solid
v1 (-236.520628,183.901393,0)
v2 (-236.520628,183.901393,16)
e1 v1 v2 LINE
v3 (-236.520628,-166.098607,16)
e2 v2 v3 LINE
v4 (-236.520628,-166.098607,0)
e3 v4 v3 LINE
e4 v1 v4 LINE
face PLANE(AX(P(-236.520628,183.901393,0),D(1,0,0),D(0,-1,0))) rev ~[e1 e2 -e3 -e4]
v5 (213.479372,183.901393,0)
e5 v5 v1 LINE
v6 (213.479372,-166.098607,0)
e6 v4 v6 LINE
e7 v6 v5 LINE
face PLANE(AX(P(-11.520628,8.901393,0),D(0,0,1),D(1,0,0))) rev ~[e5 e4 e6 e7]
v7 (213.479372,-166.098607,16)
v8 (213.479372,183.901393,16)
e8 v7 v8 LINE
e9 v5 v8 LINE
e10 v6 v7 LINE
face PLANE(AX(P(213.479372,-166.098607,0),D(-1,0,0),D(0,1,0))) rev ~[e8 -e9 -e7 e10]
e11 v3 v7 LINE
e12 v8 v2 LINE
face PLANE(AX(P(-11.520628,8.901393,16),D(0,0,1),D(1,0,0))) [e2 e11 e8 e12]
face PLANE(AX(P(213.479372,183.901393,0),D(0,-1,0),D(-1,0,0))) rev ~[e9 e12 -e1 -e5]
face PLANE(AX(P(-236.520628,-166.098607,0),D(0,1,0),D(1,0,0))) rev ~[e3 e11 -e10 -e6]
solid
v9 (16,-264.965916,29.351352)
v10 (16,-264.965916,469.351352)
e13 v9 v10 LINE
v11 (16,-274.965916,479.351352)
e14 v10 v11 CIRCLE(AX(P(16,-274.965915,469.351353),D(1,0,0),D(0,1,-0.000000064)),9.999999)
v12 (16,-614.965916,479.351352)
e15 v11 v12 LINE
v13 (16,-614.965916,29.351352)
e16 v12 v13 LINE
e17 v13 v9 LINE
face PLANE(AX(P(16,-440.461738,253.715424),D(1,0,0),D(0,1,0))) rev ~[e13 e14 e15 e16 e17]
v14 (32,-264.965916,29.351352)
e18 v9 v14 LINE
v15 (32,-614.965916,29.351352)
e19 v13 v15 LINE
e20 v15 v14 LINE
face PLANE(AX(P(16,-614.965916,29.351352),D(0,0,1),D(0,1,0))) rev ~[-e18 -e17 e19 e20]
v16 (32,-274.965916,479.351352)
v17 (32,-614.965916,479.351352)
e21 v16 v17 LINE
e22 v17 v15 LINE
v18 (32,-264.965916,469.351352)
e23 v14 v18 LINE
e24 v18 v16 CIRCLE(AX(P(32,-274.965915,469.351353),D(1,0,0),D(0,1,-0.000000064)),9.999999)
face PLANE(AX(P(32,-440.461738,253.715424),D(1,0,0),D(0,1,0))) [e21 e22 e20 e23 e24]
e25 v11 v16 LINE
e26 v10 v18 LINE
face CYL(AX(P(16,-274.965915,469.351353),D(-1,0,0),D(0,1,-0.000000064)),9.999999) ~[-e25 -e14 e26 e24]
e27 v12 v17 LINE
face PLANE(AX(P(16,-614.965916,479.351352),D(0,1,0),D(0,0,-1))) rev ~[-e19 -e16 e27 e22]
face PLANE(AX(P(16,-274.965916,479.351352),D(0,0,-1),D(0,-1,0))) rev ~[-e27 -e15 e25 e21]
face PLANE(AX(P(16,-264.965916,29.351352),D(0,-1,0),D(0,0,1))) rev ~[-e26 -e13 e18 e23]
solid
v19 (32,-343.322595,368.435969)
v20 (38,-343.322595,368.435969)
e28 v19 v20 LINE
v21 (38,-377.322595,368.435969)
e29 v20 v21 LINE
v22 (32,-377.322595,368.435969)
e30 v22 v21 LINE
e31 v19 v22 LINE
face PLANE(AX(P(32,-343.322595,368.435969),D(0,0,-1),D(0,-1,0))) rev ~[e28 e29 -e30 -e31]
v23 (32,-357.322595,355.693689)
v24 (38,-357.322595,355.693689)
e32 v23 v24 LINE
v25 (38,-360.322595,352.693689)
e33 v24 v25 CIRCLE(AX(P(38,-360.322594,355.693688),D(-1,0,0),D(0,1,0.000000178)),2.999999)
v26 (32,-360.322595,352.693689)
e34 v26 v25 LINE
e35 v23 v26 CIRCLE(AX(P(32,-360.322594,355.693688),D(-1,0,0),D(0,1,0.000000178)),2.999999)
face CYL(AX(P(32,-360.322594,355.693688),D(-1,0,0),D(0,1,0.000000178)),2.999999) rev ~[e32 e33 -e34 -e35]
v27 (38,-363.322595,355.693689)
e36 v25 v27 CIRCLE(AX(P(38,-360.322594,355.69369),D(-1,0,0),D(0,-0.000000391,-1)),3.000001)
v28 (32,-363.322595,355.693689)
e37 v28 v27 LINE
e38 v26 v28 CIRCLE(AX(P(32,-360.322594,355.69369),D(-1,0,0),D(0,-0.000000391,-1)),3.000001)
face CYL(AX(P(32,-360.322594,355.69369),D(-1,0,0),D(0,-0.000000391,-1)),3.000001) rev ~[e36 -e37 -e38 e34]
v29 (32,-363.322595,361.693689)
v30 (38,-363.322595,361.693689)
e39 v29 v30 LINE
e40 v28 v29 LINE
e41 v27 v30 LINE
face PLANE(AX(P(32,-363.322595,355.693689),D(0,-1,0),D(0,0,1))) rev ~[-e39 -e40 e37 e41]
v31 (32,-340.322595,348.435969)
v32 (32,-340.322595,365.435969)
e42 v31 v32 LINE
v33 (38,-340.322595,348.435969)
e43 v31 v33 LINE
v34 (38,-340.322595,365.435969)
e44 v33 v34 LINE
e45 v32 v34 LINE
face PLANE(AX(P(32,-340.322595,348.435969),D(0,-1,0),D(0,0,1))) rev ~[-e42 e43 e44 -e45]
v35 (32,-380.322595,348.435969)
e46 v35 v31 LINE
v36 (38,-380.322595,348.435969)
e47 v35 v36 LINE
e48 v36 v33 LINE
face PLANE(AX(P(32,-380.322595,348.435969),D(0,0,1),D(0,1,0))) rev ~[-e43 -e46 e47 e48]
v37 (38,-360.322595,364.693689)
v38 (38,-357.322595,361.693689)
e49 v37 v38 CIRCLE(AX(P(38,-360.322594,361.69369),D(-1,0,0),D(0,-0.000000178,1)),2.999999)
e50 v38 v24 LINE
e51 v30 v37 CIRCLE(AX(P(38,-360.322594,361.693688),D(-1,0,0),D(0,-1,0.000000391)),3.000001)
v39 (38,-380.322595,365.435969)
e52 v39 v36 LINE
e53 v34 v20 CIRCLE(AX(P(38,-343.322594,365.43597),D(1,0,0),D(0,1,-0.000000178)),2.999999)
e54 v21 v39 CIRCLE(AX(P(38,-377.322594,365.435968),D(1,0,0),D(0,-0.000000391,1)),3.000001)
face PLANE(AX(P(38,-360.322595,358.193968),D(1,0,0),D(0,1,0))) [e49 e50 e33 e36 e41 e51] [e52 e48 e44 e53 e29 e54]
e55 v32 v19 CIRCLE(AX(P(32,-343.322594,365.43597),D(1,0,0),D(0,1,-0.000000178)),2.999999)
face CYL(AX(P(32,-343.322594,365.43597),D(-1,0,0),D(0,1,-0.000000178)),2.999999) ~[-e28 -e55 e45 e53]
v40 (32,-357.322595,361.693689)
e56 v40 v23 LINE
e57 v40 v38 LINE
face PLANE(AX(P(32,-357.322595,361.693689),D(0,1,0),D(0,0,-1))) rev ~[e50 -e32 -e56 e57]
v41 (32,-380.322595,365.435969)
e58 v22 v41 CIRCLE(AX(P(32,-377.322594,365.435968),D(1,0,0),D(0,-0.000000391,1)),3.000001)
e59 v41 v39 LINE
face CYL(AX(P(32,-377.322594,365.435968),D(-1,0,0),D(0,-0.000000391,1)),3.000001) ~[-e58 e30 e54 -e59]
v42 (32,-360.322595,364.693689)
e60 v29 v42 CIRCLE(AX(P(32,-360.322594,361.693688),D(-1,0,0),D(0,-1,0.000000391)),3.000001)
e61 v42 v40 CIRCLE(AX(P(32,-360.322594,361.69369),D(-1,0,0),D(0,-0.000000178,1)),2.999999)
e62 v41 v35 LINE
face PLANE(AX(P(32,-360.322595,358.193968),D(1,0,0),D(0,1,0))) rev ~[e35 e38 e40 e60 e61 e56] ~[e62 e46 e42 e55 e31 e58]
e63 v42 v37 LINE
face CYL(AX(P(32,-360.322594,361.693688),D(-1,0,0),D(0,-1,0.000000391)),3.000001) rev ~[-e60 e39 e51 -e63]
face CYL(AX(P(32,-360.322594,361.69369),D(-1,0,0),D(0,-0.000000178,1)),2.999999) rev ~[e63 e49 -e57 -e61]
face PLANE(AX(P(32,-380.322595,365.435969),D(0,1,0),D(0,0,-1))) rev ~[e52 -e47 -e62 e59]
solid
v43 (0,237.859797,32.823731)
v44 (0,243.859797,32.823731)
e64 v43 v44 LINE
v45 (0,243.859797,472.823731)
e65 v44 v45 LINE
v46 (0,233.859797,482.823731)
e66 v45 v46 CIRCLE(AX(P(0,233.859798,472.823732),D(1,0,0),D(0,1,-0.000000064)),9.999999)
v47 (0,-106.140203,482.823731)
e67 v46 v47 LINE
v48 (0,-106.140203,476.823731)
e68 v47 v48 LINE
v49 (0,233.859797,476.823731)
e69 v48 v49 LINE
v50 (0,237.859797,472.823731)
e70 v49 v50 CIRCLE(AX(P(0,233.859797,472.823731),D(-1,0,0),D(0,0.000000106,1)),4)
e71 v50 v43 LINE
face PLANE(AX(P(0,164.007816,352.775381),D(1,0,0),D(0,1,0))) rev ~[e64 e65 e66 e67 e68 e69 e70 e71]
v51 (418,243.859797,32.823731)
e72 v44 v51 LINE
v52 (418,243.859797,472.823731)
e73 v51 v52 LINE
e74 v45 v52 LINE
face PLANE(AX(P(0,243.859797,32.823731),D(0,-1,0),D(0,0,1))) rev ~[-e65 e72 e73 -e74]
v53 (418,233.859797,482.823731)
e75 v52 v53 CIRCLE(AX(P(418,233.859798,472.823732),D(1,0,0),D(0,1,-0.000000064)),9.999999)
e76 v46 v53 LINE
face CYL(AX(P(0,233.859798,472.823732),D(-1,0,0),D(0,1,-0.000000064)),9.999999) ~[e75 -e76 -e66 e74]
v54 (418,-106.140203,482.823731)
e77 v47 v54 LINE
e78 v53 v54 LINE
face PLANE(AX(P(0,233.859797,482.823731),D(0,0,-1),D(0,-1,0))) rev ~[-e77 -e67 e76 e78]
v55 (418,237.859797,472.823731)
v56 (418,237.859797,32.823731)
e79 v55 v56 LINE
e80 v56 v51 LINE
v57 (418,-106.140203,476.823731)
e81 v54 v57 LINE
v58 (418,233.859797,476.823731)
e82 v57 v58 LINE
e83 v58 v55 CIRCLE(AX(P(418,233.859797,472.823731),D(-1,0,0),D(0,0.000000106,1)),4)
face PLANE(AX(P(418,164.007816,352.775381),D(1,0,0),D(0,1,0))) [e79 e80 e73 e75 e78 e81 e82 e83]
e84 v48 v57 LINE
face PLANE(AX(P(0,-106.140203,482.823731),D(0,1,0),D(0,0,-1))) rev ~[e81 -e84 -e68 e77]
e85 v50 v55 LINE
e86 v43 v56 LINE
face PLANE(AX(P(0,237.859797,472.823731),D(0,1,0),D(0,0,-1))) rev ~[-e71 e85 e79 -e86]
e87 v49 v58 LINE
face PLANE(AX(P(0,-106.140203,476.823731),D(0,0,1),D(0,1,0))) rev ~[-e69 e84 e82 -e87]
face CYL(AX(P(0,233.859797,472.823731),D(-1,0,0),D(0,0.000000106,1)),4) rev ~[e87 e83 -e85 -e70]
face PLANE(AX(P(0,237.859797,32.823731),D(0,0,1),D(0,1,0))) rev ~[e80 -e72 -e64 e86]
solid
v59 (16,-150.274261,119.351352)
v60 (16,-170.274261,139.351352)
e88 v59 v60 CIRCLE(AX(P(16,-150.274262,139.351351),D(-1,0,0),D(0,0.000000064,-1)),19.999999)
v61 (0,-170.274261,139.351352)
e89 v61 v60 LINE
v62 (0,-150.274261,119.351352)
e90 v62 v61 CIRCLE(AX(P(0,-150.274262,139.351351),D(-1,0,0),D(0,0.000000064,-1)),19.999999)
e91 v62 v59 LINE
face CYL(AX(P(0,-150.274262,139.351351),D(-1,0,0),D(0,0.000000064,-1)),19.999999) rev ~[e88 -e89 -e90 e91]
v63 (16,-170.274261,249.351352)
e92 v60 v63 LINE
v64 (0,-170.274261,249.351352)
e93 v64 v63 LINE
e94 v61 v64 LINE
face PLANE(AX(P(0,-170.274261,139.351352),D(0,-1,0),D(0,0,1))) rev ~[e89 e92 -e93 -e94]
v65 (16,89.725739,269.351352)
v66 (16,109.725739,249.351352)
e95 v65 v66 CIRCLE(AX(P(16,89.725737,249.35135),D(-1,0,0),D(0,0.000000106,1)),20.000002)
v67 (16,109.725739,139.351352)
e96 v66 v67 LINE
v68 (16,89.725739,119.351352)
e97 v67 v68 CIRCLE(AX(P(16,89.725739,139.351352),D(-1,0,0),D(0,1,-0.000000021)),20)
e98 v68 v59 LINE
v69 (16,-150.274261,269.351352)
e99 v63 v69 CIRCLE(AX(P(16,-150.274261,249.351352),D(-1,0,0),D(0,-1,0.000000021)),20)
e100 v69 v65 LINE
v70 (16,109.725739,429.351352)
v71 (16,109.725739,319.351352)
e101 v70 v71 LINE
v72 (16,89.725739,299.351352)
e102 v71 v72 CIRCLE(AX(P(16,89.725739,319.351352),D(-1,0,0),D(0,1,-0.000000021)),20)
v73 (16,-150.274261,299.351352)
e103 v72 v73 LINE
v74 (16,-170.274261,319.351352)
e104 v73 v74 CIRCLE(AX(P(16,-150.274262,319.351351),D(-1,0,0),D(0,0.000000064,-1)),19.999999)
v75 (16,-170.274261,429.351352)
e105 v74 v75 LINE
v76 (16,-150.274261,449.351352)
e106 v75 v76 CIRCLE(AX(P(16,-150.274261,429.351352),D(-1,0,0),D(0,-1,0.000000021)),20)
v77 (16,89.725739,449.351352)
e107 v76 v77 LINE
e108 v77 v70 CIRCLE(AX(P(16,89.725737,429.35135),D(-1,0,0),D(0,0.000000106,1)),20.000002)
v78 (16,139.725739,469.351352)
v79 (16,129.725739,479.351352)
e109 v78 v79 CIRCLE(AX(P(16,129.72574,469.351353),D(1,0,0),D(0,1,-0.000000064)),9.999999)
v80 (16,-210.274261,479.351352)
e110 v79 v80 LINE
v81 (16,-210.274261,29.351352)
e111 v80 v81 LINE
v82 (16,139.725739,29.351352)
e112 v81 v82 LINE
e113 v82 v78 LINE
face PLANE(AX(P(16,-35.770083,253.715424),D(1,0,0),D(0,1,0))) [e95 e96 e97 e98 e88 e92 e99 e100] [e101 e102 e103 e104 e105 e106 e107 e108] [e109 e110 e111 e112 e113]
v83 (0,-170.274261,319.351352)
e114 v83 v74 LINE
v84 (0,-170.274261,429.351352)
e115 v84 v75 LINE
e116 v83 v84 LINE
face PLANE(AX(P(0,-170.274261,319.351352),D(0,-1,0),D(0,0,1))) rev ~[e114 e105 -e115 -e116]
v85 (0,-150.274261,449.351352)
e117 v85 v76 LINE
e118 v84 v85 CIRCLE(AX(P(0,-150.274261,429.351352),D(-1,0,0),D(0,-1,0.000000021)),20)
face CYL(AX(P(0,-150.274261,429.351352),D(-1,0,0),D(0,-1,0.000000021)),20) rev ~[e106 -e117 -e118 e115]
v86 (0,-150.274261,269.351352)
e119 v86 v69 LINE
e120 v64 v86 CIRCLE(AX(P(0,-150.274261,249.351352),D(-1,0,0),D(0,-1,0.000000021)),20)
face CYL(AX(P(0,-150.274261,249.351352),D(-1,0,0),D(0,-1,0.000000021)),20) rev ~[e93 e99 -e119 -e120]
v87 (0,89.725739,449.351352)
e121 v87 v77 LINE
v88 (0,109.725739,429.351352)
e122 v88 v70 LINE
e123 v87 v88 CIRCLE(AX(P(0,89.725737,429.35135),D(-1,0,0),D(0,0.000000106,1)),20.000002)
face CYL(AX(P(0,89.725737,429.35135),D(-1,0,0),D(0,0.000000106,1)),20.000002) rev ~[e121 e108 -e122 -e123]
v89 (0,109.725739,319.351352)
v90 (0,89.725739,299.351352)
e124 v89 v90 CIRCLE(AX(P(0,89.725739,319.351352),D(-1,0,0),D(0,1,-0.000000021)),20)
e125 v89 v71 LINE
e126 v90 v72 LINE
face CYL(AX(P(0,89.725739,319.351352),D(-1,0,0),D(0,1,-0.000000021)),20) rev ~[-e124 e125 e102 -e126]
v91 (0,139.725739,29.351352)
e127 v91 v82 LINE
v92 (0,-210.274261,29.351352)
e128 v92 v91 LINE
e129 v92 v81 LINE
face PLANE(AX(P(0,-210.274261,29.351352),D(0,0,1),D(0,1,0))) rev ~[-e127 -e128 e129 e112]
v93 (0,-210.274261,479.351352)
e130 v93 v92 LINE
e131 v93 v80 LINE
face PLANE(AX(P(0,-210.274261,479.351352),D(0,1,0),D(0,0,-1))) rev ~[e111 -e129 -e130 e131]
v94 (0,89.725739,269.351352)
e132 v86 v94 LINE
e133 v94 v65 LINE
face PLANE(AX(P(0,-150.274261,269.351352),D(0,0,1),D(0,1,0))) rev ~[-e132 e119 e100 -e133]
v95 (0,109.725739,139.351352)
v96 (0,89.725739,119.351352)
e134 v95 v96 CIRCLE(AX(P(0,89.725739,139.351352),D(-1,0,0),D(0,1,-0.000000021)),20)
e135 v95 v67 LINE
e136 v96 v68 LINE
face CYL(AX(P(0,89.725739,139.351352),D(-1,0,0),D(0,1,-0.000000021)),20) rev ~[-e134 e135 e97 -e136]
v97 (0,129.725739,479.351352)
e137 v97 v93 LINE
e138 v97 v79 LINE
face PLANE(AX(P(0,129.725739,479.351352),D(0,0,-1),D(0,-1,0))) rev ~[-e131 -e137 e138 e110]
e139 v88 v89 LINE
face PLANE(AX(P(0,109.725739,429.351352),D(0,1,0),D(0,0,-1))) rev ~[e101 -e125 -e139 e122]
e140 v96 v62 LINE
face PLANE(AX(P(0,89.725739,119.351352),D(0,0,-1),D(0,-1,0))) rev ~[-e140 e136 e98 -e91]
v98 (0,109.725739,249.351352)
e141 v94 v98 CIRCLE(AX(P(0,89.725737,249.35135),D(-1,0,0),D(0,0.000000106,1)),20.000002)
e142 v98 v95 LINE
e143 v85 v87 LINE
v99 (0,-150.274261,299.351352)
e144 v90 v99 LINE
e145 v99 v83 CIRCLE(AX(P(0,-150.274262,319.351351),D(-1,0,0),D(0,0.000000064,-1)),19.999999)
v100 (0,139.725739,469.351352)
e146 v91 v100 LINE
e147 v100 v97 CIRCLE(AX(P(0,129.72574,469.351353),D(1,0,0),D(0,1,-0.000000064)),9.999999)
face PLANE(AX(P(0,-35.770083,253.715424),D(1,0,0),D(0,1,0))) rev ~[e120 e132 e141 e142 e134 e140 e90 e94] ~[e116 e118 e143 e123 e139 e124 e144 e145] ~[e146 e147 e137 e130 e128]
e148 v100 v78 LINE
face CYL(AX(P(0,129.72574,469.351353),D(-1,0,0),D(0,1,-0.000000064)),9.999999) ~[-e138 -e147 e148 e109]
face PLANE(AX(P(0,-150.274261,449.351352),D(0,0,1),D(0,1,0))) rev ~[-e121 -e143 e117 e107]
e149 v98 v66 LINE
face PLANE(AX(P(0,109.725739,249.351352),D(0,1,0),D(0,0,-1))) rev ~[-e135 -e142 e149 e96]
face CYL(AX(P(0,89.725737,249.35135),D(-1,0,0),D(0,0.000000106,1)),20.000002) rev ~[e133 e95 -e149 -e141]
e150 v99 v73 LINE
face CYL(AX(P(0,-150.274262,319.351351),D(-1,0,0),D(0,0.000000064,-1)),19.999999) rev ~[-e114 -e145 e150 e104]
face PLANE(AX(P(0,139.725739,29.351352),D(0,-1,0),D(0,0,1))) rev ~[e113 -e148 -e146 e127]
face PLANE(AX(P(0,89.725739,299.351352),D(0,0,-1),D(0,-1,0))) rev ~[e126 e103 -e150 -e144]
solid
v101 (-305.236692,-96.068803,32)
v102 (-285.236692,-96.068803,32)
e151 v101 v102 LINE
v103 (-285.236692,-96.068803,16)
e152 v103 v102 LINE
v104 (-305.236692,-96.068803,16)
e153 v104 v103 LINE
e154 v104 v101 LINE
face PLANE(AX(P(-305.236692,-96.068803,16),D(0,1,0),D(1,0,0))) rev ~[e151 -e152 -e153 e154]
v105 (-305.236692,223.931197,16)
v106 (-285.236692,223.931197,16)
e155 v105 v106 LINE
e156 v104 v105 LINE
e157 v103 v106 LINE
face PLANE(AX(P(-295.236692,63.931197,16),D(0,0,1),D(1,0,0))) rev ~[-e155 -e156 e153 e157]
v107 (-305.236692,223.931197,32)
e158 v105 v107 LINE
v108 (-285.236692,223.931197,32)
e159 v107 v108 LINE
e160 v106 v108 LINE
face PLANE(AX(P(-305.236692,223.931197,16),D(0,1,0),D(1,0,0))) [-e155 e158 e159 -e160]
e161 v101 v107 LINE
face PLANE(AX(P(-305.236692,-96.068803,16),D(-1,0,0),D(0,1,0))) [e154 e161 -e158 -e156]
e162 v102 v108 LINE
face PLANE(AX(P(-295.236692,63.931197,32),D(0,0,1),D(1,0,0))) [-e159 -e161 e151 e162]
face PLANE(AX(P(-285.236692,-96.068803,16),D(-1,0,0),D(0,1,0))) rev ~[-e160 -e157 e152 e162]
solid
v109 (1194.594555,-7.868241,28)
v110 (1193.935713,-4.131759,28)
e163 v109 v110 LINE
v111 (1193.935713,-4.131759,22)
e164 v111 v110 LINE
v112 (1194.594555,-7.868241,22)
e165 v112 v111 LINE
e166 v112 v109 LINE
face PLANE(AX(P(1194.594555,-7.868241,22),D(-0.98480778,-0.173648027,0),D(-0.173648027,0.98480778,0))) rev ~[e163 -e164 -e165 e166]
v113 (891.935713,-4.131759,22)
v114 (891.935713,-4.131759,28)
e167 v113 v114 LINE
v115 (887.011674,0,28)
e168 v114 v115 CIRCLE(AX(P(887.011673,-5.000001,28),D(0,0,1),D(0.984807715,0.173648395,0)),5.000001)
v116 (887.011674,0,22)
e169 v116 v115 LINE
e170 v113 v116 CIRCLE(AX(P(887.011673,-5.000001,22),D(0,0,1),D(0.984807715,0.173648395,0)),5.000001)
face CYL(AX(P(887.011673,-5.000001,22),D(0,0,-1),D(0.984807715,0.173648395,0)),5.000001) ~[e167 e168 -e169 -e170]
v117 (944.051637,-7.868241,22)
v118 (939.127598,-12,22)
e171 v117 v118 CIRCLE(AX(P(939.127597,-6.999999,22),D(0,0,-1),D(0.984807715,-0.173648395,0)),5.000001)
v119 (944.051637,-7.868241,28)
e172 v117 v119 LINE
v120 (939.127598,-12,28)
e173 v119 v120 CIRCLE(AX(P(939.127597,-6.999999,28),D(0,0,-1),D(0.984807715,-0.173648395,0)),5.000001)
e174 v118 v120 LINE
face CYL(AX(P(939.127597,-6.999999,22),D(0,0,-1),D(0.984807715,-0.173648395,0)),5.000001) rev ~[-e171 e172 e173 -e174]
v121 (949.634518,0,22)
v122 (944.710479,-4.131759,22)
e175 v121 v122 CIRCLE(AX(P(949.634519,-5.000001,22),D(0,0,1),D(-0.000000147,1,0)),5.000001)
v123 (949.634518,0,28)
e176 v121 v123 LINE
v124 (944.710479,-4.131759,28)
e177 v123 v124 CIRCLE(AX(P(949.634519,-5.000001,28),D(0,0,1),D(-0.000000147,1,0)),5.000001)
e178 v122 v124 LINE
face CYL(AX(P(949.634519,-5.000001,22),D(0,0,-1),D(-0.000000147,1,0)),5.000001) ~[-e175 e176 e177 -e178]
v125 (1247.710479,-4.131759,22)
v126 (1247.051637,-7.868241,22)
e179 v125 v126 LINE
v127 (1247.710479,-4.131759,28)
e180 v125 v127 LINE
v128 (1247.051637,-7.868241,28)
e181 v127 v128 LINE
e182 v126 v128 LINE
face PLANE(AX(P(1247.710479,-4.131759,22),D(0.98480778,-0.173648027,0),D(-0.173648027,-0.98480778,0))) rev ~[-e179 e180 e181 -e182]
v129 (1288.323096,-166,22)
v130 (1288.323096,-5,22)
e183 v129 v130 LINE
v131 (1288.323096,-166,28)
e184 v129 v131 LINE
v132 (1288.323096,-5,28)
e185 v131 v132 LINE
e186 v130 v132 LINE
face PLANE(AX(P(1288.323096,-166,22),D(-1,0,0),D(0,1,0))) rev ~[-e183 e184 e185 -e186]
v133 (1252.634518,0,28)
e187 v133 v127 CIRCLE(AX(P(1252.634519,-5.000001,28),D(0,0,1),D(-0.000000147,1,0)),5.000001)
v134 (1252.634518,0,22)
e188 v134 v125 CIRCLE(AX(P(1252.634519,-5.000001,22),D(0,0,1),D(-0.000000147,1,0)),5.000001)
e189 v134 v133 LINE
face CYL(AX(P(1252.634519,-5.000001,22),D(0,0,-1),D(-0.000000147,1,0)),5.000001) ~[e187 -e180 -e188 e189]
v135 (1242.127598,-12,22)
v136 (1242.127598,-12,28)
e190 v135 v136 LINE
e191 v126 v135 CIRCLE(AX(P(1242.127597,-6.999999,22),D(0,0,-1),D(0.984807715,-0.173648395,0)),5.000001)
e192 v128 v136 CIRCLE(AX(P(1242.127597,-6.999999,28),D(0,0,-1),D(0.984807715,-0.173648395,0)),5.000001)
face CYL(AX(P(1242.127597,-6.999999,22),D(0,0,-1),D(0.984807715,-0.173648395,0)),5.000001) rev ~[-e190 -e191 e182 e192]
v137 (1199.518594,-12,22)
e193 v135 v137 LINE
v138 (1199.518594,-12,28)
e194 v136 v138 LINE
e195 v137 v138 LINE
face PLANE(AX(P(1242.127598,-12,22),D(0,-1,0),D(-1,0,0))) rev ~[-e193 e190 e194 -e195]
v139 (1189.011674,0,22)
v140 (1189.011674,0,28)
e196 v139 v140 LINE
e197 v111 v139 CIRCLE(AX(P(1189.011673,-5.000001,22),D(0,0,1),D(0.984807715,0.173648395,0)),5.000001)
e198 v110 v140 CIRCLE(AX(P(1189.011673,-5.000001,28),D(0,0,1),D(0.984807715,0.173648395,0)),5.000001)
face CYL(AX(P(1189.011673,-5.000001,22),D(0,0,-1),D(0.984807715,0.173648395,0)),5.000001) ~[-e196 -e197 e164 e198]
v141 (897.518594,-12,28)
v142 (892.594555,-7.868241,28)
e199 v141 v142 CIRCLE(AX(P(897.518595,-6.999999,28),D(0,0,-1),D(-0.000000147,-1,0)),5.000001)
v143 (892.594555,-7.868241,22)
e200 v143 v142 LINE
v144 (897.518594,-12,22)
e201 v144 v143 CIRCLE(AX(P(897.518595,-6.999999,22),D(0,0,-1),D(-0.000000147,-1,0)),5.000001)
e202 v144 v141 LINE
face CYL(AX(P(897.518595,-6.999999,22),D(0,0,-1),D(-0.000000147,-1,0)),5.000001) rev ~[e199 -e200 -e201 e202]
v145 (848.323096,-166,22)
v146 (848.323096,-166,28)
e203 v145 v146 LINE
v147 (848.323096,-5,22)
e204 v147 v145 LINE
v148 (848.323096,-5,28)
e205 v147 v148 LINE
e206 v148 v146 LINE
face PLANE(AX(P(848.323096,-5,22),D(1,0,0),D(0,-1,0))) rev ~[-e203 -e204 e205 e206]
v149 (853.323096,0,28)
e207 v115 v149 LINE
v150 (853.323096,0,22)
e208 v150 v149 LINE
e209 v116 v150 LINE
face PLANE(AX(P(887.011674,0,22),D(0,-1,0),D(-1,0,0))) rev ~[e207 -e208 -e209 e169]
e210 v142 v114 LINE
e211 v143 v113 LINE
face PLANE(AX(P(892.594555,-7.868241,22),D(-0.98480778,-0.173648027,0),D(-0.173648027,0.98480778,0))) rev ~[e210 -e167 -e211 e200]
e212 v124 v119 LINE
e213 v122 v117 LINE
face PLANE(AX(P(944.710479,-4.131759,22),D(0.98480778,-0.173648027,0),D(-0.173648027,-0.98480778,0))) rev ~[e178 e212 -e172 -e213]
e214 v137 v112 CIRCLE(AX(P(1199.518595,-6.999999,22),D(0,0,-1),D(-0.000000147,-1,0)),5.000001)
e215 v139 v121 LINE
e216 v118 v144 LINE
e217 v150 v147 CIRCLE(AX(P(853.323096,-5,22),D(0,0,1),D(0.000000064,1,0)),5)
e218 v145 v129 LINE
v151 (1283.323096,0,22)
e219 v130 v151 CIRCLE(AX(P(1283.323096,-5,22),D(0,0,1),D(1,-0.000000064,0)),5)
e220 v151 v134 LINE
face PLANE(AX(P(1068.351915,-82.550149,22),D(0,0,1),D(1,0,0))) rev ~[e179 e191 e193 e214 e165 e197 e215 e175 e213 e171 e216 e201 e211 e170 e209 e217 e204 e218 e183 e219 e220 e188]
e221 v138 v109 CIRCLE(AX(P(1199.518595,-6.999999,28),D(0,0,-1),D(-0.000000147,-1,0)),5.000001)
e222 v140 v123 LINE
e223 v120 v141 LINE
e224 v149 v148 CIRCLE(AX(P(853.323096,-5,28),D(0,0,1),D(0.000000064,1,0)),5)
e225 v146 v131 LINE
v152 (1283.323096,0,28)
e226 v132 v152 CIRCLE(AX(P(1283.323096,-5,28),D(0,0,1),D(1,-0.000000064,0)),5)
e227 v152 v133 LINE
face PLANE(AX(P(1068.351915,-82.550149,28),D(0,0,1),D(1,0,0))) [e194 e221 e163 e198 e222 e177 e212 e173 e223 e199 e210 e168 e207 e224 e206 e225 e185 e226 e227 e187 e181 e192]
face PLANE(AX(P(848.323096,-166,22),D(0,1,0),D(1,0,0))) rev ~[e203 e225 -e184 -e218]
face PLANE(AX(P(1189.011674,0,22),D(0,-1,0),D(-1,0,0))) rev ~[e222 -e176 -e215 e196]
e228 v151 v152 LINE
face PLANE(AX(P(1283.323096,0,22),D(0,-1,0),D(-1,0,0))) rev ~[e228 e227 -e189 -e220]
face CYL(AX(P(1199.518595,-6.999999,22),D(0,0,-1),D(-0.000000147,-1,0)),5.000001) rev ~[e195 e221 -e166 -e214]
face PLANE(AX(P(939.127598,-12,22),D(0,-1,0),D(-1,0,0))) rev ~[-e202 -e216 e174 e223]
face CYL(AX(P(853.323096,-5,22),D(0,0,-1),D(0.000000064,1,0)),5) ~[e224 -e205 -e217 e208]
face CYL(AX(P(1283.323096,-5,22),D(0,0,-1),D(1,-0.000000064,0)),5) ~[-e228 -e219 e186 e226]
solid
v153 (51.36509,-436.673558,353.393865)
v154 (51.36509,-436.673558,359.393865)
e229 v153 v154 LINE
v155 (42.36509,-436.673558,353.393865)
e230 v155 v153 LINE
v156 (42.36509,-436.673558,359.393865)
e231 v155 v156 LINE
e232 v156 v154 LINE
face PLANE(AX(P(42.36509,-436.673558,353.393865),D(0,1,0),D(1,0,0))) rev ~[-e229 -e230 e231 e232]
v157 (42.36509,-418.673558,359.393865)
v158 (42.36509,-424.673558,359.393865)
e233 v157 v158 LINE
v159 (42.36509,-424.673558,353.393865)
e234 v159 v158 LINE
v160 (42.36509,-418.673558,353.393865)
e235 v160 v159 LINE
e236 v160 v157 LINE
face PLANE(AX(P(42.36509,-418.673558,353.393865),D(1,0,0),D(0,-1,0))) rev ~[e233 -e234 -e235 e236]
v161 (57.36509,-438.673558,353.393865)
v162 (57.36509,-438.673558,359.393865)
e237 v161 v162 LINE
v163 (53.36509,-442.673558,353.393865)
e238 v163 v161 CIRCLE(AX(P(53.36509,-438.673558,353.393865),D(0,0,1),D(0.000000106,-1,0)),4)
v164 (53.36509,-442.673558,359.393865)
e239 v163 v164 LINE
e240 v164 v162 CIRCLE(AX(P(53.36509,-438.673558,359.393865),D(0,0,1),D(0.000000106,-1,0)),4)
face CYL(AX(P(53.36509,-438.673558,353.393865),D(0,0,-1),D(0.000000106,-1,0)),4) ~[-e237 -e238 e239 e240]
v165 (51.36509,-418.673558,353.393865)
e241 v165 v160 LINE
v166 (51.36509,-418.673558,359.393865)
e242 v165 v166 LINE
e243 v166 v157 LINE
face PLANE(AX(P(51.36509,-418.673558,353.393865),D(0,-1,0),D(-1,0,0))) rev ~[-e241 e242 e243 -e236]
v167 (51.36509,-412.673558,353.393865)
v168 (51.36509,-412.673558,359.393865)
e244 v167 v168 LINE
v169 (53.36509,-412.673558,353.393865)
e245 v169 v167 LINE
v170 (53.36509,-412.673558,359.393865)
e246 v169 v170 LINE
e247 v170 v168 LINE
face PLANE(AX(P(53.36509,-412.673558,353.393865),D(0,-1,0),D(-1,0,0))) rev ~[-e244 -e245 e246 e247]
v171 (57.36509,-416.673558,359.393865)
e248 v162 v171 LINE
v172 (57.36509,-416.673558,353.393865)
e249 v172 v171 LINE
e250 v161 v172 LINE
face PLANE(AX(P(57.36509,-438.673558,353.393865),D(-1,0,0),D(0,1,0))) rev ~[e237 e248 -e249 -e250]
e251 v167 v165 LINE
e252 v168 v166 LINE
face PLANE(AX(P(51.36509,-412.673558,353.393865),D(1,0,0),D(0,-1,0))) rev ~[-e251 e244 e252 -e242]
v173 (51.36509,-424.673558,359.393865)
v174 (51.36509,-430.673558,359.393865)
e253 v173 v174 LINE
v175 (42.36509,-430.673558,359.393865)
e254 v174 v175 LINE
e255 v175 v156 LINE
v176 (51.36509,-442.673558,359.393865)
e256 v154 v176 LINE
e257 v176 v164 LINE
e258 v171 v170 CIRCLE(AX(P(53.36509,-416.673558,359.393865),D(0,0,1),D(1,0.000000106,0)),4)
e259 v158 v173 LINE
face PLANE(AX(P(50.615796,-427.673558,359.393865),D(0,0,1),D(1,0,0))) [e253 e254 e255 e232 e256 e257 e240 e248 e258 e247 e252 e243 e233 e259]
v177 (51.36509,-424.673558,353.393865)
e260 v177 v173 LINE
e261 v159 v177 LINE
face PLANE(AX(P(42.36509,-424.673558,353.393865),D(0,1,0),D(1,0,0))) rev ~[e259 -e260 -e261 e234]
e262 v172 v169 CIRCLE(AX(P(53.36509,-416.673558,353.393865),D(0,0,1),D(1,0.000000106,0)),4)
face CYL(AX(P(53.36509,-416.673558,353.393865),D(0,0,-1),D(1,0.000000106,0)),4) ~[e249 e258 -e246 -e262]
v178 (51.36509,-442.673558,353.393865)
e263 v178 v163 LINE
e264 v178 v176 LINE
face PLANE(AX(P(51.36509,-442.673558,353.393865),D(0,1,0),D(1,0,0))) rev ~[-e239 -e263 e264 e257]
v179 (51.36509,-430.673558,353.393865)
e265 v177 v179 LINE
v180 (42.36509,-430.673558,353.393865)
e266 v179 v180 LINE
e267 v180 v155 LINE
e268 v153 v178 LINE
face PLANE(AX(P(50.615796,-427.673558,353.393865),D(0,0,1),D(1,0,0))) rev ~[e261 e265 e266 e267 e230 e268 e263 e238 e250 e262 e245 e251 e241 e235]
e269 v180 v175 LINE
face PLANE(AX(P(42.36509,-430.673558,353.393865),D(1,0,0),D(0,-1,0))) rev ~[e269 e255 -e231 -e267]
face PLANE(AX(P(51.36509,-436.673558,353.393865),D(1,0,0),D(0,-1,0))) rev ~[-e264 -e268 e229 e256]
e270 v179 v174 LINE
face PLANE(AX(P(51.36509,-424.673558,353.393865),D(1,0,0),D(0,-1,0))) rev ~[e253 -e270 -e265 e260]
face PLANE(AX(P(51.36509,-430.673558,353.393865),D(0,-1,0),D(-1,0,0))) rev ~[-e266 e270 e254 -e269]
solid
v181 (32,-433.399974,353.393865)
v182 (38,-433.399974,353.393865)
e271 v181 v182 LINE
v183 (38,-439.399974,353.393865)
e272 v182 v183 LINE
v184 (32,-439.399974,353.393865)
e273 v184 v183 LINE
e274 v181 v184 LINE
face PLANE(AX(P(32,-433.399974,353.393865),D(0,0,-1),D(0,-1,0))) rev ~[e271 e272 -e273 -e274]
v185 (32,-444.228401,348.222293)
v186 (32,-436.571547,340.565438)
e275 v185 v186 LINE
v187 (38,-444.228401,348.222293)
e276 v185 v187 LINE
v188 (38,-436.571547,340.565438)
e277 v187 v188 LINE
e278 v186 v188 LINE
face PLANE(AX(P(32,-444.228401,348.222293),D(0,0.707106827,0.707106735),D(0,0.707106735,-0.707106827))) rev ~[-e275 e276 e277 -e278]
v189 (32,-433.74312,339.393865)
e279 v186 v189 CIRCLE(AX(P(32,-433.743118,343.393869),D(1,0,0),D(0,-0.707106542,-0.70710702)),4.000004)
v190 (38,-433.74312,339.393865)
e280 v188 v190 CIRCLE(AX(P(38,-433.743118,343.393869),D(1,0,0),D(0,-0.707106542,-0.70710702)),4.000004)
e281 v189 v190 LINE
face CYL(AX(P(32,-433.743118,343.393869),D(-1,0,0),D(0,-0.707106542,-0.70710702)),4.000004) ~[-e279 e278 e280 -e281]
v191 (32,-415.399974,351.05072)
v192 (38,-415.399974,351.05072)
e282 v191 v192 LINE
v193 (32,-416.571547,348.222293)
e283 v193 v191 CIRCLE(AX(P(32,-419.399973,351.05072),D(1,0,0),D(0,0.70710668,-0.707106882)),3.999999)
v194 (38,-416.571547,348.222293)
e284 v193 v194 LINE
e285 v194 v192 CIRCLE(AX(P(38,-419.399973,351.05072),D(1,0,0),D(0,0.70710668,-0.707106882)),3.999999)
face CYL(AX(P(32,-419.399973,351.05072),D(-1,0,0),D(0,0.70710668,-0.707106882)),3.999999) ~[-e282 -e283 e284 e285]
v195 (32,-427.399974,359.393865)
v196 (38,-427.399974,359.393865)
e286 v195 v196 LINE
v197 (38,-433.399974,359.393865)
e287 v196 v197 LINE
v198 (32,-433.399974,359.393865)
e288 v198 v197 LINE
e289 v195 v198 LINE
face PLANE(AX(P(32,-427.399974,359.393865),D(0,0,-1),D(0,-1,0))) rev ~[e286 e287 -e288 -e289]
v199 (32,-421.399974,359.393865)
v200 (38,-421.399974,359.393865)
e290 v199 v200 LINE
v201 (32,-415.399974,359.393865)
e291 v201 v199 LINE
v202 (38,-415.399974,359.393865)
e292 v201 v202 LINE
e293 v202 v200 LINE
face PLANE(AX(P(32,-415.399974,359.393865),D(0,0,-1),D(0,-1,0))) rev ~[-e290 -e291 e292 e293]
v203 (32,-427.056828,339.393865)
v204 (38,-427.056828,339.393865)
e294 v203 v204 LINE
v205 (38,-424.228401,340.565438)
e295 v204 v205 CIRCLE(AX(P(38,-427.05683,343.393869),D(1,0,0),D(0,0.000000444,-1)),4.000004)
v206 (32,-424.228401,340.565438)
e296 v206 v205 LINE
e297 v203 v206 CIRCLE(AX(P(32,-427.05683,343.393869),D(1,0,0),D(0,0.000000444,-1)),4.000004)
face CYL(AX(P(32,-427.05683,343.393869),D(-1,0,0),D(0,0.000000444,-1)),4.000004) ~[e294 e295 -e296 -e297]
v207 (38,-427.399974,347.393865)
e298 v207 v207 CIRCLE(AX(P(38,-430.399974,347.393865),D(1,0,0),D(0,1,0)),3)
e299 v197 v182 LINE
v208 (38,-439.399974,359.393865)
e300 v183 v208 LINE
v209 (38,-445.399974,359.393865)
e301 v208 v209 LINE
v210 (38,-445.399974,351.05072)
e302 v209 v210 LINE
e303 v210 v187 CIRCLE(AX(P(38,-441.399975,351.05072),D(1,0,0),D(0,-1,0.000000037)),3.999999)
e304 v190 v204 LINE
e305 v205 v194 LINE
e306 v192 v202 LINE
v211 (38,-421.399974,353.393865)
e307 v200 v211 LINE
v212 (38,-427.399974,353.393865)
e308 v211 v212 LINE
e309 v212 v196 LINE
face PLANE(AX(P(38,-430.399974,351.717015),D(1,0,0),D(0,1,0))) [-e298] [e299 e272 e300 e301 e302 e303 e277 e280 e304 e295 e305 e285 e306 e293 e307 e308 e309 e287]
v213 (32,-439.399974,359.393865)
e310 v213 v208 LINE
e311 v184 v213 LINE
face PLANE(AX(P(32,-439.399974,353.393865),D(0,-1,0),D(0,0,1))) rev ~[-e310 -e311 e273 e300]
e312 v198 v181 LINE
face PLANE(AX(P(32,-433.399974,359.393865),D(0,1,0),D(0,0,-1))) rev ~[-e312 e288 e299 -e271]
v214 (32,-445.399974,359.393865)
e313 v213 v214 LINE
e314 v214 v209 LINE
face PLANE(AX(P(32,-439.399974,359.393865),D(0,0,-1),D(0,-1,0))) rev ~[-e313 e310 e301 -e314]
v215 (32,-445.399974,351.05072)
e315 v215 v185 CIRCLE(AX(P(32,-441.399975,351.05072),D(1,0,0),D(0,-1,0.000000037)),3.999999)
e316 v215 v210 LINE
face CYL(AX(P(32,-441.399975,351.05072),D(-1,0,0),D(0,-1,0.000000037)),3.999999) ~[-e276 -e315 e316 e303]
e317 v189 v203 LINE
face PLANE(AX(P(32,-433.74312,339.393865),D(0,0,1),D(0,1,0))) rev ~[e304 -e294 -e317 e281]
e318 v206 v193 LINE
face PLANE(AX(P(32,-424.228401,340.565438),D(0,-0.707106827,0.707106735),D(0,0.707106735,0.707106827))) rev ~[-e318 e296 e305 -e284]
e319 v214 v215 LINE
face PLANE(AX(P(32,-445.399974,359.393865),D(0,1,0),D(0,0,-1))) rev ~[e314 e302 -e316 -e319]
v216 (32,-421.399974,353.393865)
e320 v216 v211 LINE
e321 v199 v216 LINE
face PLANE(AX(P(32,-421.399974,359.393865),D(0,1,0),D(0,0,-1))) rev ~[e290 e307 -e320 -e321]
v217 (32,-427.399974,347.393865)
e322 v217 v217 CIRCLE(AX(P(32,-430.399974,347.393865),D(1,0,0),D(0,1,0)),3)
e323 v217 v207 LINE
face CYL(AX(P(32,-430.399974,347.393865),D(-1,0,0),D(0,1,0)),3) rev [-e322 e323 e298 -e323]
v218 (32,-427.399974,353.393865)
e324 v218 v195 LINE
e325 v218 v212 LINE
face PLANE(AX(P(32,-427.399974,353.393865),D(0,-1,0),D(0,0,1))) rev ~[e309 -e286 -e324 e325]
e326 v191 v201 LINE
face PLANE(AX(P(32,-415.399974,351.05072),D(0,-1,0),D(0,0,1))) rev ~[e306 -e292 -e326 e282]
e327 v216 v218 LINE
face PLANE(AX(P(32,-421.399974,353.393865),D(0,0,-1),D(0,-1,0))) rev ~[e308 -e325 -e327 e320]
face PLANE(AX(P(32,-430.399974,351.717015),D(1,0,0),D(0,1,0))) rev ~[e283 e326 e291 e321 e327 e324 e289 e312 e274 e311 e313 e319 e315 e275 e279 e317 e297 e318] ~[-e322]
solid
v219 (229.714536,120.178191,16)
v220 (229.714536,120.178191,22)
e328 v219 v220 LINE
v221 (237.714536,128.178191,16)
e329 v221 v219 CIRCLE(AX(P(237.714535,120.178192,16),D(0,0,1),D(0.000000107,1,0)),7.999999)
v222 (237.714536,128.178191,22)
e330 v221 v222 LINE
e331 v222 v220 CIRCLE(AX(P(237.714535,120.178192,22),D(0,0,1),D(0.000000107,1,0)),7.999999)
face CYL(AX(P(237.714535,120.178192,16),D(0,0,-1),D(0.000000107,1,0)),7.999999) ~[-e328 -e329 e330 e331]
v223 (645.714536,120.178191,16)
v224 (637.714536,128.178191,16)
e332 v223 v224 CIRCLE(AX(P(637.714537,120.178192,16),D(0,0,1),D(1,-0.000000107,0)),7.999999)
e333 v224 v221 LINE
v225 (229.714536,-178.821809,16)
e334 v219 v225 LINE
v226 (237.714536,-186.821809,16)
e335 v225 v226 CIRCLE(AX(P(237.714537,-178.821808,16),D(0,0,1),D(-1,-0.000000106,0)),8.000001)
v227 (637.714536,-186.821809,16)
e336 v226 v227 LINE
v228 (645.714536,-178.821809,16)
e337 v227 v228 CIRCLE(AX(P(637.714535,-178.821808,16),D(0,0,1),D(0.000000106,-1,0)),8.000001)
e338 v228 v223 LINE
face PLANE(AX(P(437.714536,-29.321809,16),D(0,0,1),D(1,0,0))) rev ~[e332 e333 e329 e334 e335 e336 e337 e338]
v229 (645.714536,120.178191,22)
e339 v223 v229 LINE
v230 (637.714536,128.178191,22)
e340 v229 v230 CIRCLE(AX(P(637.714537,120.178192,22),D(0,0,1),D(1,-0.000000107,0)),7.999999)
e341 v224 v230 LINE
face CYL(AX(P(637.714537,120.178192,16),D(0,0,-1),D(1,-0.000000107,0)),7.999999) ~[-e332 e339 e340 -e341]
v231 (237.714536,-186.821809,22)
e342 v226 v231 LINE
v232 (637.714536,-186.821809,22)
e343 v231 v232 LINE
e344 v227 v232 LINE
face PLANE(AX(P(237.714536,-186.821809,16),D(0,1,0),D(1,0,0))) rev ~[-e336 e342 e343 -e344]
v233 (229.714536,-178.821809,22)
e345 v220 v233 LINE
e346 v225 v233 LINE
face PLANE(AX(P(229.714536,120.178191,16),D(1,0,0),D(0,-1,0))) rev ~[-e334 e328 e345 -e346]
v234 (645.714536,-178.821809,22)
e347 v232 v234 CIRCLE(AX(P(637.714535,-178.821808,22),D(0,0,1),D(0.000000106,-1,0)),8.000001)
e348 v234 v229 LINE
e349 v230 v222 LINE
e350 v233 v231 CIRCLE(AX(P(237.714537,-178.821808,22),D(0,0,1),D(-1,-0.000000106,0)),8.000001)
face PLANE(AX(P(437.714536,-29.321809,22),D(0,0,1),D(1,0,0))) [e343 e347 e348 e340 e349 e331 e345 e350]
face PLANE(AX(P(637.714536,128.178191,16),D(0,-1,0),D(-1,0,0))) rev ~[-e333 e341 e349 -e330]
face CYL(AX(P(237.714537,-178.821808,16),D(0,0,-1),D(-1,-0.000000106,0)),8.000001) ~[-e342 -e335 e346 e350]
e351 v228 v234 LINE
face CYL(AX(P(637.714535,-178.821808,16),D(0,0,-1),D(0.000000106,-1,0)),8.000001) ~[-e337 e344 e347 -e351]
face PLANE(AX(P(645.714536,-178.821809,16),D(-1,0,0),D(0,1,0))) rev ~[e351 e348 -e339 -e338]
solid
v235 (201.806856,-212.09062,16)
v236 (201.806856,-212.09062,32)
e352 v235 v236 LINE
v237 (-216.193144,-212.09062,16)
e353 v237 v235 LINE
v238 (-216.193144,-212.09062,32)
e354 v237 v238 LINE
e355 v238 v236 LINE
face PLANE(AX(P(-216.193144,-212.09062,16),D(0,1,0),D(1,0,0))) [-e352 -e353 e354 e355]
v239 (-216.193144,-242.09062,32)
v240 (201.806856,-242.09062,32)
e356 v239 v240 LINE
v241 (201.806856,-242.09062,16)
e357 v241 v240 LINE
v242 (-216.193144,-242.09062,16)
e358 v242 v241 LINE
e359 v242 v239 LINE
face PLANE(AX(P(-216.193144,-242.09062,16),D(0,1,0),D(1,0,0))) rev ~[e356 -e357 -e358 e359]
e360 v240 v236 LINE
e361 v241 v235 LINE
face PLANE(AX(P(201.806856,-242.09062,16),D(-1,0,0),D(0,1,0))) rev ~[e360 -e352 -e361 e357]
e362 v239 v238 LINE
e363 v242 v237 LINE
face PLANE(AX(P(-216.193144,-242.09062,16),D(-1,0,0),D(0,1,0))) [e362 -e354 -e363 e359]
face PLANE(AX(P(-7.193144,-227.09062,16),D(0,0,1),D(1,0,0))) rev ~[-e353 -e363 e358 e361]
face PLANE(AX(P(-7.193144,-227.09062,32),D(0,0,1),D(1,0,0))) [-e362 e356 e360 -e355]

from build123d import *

# Parameters (mm, degrees)
F1_DEPTH  = 16
F3_DEPTH  = 16
F5_DEPTH  = 418
F7_DEPTH  = 16
F8_W      = 418
F8_H      = 30
F9_DEPTH  = 16
F10_W     = 20
F10_H     = 320
F11_DEPTH = 16
F13_DEPTH = 6
F15_DEPTH = 6
F16_R     = 3
F17_DEPTH = 6
F19_DEPTH = 6
F21_DEPTH = 6


with BuildPart() as f1:
    # F0 (on Top) → F1 (new body)
    with BuildSketch(Plane.XY):
        Polygon((213.479372, 183.901393), (-236.520628, 183.901393), (-236.520628, -151.098607), (-236.520628, -166.098607), (-221.520628, -166.098607), (198.479372, -166.098607), (213.479372, -166.098607), (213.479372, -151.098607), align=None)
    extrude(amount=F1_DEPTH)


with BuildPart() as f3:
    # F2 (on Right) → F3 (new body)
    with BuildSketch(Plane.YZ):
        with BuildLine():
            Line((-210.274261, 479.351352), (-210.274261, 29.351352))
            Line((-210.274261, 29.351352), (139.725739, 29.351352))
            Line((139.725739, 29.351352), (139.725739, 469.351352))
            ThreePointArc((139.725739, 469.351352), (136.796807, 476.42242), (129.725739, 479.351352))
            Line((129.725739, 479.351352), (-210.274261, 479.351352))
        make_face()
        with BuildLine():
            ThreePointArc((-170.274261, 249.351352), (-164.416397, 263.493487), (-150.274261, 269.351352))
            Line((-150.274261, 269.351352), (89.725739, 269.351352))
            ThreePointArc((89.725739, 269.351352), (103.867874, 263.493487), (109.725739, 249.351352))
            Line((109.725739, 249.351352), (109.725739, 139.351352))
            ThreePointArc((109.725739, 139.351352), (103.867874, 125.209216), (89.725739, 119.351352))
            Line((89.725739, 119.351352), (-150.274261, 119.351352))
            ThreePointArc((-150.274261, 119.351352), (-164.416397, 125.209216), (-170.274261, 139.351352))
            Line((-170.274261, 139.351352), (-170.274261, 249.351352))
        make_face(mode=Mode.SUBTRACT)
        with BuildLine():
            ThreePointArc((-170.274261, 429.351352), (-164.416397, 443.493487), (-150.274261, 449.351352))
            Line((-150.274261, 449.351352), (89.725739, 449.351352))
            ThreePointArc((89.725739, 449.351352), (103.867874, 443.493487), (109.725739, 429.351352))
            Line((109.725739, 429.351352), (109.725739, 319.351352))
            ThreePointArc((109.725739, 319.351352), (103.867874, 305.209216), (89.725739, 299.351352))
            Line((89.725739, 299.351352), (-150.274261, 299.351352))
            ThreePointArc((-150.274261, 299.351352), (-164.416397, 305.209216), (-170.274261, 319.351352))
            Line((-170.274261, 319.351352), (-170.274261, 429.351352))
        make_face(mode=Mode.SUBTRACT)
    extrude(amount=F3_DEPTH)


with BuildPart() as f5:
    # F4 (on Right) → F5 (new body)
    with BuildSketch(Plane.YZ):
        with BuildLine():
            Line((237.859797, 32.823731), (243.859797, 32.823731))
            Line((243.859797, 32.823731), (243.859797, 472.823731))
            ThreePointArc((243.859797, 472.823731), (240.930865, 479.894799), (233.859797, 482.823731))
            Line((233.859797, 482.823731), (-106.140203, 482.823731))
            Line((-106.140203, 482.823731), (-106.140203, 476.823731))
            Line((-106.140203, 476.823731), (233.859797, 476.823731))
            ThreePointArc((233.859797, 476.823731), (236.688224, 475.652158), (237.859797, 472.823731))
            Line((237.859797, 472.823731), (237.859797, 32.823731))
        make_face()
    extrude(amount=F5_DEPTH)


with BuildPart() as f7:
    # F6 (on face) → F7 (new body)
    with BuildSketch(Plane.YZ.offset(16)):
        with BuildLine():
            Line((-614.965916, 479.351352), (-614.965916, 29.351352))
            Line((-614.965916, 29.351352), (-264.965916, 29.351352))
            Line((-264.965916, 29.351352), (-264.965916, 469.351352))
            ThreePointArc((-264.965916, 469.351352), (-267.894848, 476.42242), (-274.965916, 479.351352))
            Line((-274.965916, 479.351352), (-614.965916, 479.351352))
        make_face()
    extrude(amount=F7_DEPTH)


with BuildPart() as f9:
    # F8 (on face) → F9 (new body)
    with BuildSketch(Plane.XY.offset(16)):
        with Locations((-7.193144, -227.09062)):
            Rectangle(F8_W, F8_H)
    extrude(amount=F9_DEPTH)


with BuildPart() as f11:
    # F10 (on face) → F11 (new body)
    with BuildSketch(Plane.XY.offset(16)):
        with Locations((-295.236692, 63.931197)):
            Rectangle(F10_W, F10_H)
    extrude(amount=F11_DEPTH)


with BuildPart() as f13:
    # F12 (on face) → F13 (new body)
    with BuildSketch(Plane.XY.offset(16)):
        with BuildLine():
            ThreePointArc((229.714536, -178.821809), (232.057682, -184.478663), (237.714536, -186.821809))
            Line((237.714536, -186.821809), (637.714536, -186.821809))
            ThreePointArc((637.714536, -186.821809), (643.37139, -184.478663), (645.714536, -178.821809))
            Line((645.714536, -178.821809), (645.714536, 120.178191))
            ThreePointArc((645.714536, 120.178191), (643.37139, 125.835046), (637.714536, 128.178191))
            Line((637.714536, 128.178191), (237.714536, 128.178191))
            ThreePointArc((237.714536, 128.178191), (232.057682, 125.835046), (229.714536, 120.178191))
            Line((229.714536, 120.178191), (229.714536, -178.821809))
        make_face()
    extrude(amount=F13_DEPTH)


with BuildPart() as f15:
    # F14 (on face) → F15 (new body)
    with BuildSketch(Plane.XY.offset(22)):
        with BuildLine():
            Line((848.323096, -5), (848.323096, -166))
            Line((848.323096, -166), (1288.323096, -166))
            Line((1288.323096, -166), (1288.323096, -5))
            ThreePointArc((1288.323096, -5), (1286.85863, -1.464466), (1283.323096, 0))
            Line((1283.323096, 0), (1252.634518, 0))
            ThreePointArc((1252.634518, 0), (1249.42058, -1.169778), (1247.710479, -4.131759))
            Line((1247.710479, -4.131759), (1247.051637, -7.868241))
            ThreePointArc((1247.051637, -7.868241), (1245.341536, -10.830222), (1242.127598, -12))
            Line((1242.127598, -12), (1199.518594, -12))
            ThreePointArc((1199.518594, -12), (1196.304656, -10.830222), (1194.594555, -7.868241))
            Line((1194.594555, -7.868241), (1193.935713, -4.131759))
            ThreePointArc((1193.935713, -4.131759), (1192.225612, -1.169778), (1189.011674, 0))
            Line((1189.011674, 0), (949.634518, 0))
            ThreePointArc((949.634518, 0), (946.42058, -1.169778), (944.710479, -4.131759))
            Line((944.710479, -4.131759), (944.051637, -7.868241))
            ThreePointArc((944.051637, -7.868241), (942.341536, -10.830222), (939.127598, -12))
            Line((939.127598, -12), (897.518594, -12))
            ThreePointArc((897.518594, -12), (894.304656, -10.830222), (892.594555, -7.868241))
            Line((892.594555, -7.868241), (891.935713, -4.131759))
            ThreePointArc((891.935713, -4.131759), (890.225612, -1.169778), (887.011674, 0))
            Line((887.011674, 0), (853.323096, 0))
            ThreePointArc((853.323096, 0), (849.787562, -1.464466), (848.323096, -5))
        make_face()
    extrude(amount=F15_DEPTH)


with BuildPart() as f17:
    # F16 (on face) → F17 (new body)
    with BuildSketch(Plane.YZ.offset(32)):
        with BuildLine():
            Line((-439.399974, 359.393865), (-445.399974, 359.393865))
            Line((-445.399974, 359.393865), (-445.399974, 351.05072))
            ThreePointArc((-445.399974, 351.05072), (-445.095492, 349.519986), (-444.228401, 348.222293))
            Line((-444.228401, 348.222293), (-436.571547, 340.565438))
            ThreePointArc((-436.571547, 340.565438), (-435.273853, 339.698347), (-433.74312, 339.393865))
            Line((-433.74312, 339.393865), (-427.056828, 339.393865))
            ThreePointArc((-427.056828, 339.393865), (-425.526095, 339.698347), (-424.228401, 340.565438))
            Line((-424.228401, 340.565438), (-416.571547, 348.222293))
            ThreePointArc((-416.571547, 348.222293), (-415.704456, 349.519986), (-415.399974, 351.05072))
            Line((-415.399974, 351.05072), (-415.399974, 359.393865))
            Line((-415.399974, 359.393865), (-421.399974, 359.393865))
            Line((-421.399974, 359.393865), (-421.399974, 353.393865))
            Line((-421.399974, 353.393865), (-427.399974, 353.393865))
            Line((-427.399974, 353.393865), (-427.399974, 359.393865))
            Line((-427.399974, 359.393865), (-433.399974, 359.393865))
            Line((-433.399974, 359.393865), (-433.399974, 353.393865))
            Line((-433.399974, 353.393865), (-439.399974, 353.393865))
            Line((-439.399974, 353.393865), (-439.399974, 359.393865))
        make_face()
        with Locations((-430.399974, 347.393865)):
            Circle(F16_R, mode=Mode.SUBTRACT)
    extrude(amount=F17_DEPTH)


with BuildPart() as f19:
    # F18 (on face) → F19 (new body)
    with BuildSketch(Plane.XY.offset(353.393865)):
        with BuildLine():
            Line((53.36509, -412.673558), (51.36509, -412.673558))
            Line((51.36509, -412.673558), (51.36509, -418.673558))
            Line((51.36509, -418.673558), (42.36509, -418.673558))
            Line((42.36509, -418.673558), (42.36509, -424.673558))
            Line((42.36509, -424.673558), (51.36509, -424.673558))
            Line((51.36509, -424.673558), (51.36509, -430.673558))
            Line((51.36509, -430.673558), (42.36509, -430.673558))
            Line((42.36509, -430.673558), (42.36509, -436.673558))
            Line((42.36509, -436.673558), (51.36509, -436.673558))
            Line((51.36509, -436.673558), (51.36509, -442.673558))
            Line((51.36509, -442.673558), (53.36509, -442.673558))
            ThreePointArc((53.36509, -442.673558), (56.193517, -441.501985), (57.36509, -438.673558))
            Line((57.36509, -438.673558), (57.36509, -416.673558))
            ThreePointArc((57.36509, -416.673558), (56.193517, -413.845131), (53.36509, -412.673558))
        make_face()
    extrude(amount=F19_DEPTH)


with BuildPart() as f21:
    # F20 (on face) → F21 (new body)
    with BuildSketch(Plane.YZ.offset(32)):
        with BuildLine():
            Line((-343.322595, 368.435969), (-377.322595, 368.435969))
            ThreePointArc((-377.322595, 368.435969), (-379.443915, 367.557289), (-380.322595, 365.435969))
            Line((-380.322595, 365.435969), (-380.322595, 348.435969))
            Line((-380.322595, 348.435969), (-340.322595, 348.435969))
            Line((-340.322595, 348.435969), (-340.322595, 365.435969))
            ThreePointArc((-340.322595, 365.435969), (-341.201274, 367.557289), (-343.322595, 368.435969))
        make_face()
        with BuildLine():
            ThreePointArc((-360.322595, 364.693689), (-358.201274, 363.815009), (-357.322595, 361.693689))
            Line((-357.322595, 361.693689), (-357.322595, 355.693689))
            ThreePointArc((-357.322595, 355.693689), (-358.201274, 353.572369), (-360.322595, 352.693689))
            ThreePointArc((-360.322595, 352.693689), (-362.443915, 353.572369), (-363.322595, 355.693689))
            Line((-363.322595, 355.693689), (-363.322595, 361.693689))
            ThreePointArc((-363.322595, 361.693689), (-362.443915, 363.815009), (-360.322595, 364.693689))
        make_face(mode=Mode.SUBTRACT)
    extrude(amount=F21_DEPTH)


solid = Compound([f1.part, f3.part, f5.part, f7.part, f9.part, f11.part, f13.part, f15.part, f17.part, f19.part, f21.part])
